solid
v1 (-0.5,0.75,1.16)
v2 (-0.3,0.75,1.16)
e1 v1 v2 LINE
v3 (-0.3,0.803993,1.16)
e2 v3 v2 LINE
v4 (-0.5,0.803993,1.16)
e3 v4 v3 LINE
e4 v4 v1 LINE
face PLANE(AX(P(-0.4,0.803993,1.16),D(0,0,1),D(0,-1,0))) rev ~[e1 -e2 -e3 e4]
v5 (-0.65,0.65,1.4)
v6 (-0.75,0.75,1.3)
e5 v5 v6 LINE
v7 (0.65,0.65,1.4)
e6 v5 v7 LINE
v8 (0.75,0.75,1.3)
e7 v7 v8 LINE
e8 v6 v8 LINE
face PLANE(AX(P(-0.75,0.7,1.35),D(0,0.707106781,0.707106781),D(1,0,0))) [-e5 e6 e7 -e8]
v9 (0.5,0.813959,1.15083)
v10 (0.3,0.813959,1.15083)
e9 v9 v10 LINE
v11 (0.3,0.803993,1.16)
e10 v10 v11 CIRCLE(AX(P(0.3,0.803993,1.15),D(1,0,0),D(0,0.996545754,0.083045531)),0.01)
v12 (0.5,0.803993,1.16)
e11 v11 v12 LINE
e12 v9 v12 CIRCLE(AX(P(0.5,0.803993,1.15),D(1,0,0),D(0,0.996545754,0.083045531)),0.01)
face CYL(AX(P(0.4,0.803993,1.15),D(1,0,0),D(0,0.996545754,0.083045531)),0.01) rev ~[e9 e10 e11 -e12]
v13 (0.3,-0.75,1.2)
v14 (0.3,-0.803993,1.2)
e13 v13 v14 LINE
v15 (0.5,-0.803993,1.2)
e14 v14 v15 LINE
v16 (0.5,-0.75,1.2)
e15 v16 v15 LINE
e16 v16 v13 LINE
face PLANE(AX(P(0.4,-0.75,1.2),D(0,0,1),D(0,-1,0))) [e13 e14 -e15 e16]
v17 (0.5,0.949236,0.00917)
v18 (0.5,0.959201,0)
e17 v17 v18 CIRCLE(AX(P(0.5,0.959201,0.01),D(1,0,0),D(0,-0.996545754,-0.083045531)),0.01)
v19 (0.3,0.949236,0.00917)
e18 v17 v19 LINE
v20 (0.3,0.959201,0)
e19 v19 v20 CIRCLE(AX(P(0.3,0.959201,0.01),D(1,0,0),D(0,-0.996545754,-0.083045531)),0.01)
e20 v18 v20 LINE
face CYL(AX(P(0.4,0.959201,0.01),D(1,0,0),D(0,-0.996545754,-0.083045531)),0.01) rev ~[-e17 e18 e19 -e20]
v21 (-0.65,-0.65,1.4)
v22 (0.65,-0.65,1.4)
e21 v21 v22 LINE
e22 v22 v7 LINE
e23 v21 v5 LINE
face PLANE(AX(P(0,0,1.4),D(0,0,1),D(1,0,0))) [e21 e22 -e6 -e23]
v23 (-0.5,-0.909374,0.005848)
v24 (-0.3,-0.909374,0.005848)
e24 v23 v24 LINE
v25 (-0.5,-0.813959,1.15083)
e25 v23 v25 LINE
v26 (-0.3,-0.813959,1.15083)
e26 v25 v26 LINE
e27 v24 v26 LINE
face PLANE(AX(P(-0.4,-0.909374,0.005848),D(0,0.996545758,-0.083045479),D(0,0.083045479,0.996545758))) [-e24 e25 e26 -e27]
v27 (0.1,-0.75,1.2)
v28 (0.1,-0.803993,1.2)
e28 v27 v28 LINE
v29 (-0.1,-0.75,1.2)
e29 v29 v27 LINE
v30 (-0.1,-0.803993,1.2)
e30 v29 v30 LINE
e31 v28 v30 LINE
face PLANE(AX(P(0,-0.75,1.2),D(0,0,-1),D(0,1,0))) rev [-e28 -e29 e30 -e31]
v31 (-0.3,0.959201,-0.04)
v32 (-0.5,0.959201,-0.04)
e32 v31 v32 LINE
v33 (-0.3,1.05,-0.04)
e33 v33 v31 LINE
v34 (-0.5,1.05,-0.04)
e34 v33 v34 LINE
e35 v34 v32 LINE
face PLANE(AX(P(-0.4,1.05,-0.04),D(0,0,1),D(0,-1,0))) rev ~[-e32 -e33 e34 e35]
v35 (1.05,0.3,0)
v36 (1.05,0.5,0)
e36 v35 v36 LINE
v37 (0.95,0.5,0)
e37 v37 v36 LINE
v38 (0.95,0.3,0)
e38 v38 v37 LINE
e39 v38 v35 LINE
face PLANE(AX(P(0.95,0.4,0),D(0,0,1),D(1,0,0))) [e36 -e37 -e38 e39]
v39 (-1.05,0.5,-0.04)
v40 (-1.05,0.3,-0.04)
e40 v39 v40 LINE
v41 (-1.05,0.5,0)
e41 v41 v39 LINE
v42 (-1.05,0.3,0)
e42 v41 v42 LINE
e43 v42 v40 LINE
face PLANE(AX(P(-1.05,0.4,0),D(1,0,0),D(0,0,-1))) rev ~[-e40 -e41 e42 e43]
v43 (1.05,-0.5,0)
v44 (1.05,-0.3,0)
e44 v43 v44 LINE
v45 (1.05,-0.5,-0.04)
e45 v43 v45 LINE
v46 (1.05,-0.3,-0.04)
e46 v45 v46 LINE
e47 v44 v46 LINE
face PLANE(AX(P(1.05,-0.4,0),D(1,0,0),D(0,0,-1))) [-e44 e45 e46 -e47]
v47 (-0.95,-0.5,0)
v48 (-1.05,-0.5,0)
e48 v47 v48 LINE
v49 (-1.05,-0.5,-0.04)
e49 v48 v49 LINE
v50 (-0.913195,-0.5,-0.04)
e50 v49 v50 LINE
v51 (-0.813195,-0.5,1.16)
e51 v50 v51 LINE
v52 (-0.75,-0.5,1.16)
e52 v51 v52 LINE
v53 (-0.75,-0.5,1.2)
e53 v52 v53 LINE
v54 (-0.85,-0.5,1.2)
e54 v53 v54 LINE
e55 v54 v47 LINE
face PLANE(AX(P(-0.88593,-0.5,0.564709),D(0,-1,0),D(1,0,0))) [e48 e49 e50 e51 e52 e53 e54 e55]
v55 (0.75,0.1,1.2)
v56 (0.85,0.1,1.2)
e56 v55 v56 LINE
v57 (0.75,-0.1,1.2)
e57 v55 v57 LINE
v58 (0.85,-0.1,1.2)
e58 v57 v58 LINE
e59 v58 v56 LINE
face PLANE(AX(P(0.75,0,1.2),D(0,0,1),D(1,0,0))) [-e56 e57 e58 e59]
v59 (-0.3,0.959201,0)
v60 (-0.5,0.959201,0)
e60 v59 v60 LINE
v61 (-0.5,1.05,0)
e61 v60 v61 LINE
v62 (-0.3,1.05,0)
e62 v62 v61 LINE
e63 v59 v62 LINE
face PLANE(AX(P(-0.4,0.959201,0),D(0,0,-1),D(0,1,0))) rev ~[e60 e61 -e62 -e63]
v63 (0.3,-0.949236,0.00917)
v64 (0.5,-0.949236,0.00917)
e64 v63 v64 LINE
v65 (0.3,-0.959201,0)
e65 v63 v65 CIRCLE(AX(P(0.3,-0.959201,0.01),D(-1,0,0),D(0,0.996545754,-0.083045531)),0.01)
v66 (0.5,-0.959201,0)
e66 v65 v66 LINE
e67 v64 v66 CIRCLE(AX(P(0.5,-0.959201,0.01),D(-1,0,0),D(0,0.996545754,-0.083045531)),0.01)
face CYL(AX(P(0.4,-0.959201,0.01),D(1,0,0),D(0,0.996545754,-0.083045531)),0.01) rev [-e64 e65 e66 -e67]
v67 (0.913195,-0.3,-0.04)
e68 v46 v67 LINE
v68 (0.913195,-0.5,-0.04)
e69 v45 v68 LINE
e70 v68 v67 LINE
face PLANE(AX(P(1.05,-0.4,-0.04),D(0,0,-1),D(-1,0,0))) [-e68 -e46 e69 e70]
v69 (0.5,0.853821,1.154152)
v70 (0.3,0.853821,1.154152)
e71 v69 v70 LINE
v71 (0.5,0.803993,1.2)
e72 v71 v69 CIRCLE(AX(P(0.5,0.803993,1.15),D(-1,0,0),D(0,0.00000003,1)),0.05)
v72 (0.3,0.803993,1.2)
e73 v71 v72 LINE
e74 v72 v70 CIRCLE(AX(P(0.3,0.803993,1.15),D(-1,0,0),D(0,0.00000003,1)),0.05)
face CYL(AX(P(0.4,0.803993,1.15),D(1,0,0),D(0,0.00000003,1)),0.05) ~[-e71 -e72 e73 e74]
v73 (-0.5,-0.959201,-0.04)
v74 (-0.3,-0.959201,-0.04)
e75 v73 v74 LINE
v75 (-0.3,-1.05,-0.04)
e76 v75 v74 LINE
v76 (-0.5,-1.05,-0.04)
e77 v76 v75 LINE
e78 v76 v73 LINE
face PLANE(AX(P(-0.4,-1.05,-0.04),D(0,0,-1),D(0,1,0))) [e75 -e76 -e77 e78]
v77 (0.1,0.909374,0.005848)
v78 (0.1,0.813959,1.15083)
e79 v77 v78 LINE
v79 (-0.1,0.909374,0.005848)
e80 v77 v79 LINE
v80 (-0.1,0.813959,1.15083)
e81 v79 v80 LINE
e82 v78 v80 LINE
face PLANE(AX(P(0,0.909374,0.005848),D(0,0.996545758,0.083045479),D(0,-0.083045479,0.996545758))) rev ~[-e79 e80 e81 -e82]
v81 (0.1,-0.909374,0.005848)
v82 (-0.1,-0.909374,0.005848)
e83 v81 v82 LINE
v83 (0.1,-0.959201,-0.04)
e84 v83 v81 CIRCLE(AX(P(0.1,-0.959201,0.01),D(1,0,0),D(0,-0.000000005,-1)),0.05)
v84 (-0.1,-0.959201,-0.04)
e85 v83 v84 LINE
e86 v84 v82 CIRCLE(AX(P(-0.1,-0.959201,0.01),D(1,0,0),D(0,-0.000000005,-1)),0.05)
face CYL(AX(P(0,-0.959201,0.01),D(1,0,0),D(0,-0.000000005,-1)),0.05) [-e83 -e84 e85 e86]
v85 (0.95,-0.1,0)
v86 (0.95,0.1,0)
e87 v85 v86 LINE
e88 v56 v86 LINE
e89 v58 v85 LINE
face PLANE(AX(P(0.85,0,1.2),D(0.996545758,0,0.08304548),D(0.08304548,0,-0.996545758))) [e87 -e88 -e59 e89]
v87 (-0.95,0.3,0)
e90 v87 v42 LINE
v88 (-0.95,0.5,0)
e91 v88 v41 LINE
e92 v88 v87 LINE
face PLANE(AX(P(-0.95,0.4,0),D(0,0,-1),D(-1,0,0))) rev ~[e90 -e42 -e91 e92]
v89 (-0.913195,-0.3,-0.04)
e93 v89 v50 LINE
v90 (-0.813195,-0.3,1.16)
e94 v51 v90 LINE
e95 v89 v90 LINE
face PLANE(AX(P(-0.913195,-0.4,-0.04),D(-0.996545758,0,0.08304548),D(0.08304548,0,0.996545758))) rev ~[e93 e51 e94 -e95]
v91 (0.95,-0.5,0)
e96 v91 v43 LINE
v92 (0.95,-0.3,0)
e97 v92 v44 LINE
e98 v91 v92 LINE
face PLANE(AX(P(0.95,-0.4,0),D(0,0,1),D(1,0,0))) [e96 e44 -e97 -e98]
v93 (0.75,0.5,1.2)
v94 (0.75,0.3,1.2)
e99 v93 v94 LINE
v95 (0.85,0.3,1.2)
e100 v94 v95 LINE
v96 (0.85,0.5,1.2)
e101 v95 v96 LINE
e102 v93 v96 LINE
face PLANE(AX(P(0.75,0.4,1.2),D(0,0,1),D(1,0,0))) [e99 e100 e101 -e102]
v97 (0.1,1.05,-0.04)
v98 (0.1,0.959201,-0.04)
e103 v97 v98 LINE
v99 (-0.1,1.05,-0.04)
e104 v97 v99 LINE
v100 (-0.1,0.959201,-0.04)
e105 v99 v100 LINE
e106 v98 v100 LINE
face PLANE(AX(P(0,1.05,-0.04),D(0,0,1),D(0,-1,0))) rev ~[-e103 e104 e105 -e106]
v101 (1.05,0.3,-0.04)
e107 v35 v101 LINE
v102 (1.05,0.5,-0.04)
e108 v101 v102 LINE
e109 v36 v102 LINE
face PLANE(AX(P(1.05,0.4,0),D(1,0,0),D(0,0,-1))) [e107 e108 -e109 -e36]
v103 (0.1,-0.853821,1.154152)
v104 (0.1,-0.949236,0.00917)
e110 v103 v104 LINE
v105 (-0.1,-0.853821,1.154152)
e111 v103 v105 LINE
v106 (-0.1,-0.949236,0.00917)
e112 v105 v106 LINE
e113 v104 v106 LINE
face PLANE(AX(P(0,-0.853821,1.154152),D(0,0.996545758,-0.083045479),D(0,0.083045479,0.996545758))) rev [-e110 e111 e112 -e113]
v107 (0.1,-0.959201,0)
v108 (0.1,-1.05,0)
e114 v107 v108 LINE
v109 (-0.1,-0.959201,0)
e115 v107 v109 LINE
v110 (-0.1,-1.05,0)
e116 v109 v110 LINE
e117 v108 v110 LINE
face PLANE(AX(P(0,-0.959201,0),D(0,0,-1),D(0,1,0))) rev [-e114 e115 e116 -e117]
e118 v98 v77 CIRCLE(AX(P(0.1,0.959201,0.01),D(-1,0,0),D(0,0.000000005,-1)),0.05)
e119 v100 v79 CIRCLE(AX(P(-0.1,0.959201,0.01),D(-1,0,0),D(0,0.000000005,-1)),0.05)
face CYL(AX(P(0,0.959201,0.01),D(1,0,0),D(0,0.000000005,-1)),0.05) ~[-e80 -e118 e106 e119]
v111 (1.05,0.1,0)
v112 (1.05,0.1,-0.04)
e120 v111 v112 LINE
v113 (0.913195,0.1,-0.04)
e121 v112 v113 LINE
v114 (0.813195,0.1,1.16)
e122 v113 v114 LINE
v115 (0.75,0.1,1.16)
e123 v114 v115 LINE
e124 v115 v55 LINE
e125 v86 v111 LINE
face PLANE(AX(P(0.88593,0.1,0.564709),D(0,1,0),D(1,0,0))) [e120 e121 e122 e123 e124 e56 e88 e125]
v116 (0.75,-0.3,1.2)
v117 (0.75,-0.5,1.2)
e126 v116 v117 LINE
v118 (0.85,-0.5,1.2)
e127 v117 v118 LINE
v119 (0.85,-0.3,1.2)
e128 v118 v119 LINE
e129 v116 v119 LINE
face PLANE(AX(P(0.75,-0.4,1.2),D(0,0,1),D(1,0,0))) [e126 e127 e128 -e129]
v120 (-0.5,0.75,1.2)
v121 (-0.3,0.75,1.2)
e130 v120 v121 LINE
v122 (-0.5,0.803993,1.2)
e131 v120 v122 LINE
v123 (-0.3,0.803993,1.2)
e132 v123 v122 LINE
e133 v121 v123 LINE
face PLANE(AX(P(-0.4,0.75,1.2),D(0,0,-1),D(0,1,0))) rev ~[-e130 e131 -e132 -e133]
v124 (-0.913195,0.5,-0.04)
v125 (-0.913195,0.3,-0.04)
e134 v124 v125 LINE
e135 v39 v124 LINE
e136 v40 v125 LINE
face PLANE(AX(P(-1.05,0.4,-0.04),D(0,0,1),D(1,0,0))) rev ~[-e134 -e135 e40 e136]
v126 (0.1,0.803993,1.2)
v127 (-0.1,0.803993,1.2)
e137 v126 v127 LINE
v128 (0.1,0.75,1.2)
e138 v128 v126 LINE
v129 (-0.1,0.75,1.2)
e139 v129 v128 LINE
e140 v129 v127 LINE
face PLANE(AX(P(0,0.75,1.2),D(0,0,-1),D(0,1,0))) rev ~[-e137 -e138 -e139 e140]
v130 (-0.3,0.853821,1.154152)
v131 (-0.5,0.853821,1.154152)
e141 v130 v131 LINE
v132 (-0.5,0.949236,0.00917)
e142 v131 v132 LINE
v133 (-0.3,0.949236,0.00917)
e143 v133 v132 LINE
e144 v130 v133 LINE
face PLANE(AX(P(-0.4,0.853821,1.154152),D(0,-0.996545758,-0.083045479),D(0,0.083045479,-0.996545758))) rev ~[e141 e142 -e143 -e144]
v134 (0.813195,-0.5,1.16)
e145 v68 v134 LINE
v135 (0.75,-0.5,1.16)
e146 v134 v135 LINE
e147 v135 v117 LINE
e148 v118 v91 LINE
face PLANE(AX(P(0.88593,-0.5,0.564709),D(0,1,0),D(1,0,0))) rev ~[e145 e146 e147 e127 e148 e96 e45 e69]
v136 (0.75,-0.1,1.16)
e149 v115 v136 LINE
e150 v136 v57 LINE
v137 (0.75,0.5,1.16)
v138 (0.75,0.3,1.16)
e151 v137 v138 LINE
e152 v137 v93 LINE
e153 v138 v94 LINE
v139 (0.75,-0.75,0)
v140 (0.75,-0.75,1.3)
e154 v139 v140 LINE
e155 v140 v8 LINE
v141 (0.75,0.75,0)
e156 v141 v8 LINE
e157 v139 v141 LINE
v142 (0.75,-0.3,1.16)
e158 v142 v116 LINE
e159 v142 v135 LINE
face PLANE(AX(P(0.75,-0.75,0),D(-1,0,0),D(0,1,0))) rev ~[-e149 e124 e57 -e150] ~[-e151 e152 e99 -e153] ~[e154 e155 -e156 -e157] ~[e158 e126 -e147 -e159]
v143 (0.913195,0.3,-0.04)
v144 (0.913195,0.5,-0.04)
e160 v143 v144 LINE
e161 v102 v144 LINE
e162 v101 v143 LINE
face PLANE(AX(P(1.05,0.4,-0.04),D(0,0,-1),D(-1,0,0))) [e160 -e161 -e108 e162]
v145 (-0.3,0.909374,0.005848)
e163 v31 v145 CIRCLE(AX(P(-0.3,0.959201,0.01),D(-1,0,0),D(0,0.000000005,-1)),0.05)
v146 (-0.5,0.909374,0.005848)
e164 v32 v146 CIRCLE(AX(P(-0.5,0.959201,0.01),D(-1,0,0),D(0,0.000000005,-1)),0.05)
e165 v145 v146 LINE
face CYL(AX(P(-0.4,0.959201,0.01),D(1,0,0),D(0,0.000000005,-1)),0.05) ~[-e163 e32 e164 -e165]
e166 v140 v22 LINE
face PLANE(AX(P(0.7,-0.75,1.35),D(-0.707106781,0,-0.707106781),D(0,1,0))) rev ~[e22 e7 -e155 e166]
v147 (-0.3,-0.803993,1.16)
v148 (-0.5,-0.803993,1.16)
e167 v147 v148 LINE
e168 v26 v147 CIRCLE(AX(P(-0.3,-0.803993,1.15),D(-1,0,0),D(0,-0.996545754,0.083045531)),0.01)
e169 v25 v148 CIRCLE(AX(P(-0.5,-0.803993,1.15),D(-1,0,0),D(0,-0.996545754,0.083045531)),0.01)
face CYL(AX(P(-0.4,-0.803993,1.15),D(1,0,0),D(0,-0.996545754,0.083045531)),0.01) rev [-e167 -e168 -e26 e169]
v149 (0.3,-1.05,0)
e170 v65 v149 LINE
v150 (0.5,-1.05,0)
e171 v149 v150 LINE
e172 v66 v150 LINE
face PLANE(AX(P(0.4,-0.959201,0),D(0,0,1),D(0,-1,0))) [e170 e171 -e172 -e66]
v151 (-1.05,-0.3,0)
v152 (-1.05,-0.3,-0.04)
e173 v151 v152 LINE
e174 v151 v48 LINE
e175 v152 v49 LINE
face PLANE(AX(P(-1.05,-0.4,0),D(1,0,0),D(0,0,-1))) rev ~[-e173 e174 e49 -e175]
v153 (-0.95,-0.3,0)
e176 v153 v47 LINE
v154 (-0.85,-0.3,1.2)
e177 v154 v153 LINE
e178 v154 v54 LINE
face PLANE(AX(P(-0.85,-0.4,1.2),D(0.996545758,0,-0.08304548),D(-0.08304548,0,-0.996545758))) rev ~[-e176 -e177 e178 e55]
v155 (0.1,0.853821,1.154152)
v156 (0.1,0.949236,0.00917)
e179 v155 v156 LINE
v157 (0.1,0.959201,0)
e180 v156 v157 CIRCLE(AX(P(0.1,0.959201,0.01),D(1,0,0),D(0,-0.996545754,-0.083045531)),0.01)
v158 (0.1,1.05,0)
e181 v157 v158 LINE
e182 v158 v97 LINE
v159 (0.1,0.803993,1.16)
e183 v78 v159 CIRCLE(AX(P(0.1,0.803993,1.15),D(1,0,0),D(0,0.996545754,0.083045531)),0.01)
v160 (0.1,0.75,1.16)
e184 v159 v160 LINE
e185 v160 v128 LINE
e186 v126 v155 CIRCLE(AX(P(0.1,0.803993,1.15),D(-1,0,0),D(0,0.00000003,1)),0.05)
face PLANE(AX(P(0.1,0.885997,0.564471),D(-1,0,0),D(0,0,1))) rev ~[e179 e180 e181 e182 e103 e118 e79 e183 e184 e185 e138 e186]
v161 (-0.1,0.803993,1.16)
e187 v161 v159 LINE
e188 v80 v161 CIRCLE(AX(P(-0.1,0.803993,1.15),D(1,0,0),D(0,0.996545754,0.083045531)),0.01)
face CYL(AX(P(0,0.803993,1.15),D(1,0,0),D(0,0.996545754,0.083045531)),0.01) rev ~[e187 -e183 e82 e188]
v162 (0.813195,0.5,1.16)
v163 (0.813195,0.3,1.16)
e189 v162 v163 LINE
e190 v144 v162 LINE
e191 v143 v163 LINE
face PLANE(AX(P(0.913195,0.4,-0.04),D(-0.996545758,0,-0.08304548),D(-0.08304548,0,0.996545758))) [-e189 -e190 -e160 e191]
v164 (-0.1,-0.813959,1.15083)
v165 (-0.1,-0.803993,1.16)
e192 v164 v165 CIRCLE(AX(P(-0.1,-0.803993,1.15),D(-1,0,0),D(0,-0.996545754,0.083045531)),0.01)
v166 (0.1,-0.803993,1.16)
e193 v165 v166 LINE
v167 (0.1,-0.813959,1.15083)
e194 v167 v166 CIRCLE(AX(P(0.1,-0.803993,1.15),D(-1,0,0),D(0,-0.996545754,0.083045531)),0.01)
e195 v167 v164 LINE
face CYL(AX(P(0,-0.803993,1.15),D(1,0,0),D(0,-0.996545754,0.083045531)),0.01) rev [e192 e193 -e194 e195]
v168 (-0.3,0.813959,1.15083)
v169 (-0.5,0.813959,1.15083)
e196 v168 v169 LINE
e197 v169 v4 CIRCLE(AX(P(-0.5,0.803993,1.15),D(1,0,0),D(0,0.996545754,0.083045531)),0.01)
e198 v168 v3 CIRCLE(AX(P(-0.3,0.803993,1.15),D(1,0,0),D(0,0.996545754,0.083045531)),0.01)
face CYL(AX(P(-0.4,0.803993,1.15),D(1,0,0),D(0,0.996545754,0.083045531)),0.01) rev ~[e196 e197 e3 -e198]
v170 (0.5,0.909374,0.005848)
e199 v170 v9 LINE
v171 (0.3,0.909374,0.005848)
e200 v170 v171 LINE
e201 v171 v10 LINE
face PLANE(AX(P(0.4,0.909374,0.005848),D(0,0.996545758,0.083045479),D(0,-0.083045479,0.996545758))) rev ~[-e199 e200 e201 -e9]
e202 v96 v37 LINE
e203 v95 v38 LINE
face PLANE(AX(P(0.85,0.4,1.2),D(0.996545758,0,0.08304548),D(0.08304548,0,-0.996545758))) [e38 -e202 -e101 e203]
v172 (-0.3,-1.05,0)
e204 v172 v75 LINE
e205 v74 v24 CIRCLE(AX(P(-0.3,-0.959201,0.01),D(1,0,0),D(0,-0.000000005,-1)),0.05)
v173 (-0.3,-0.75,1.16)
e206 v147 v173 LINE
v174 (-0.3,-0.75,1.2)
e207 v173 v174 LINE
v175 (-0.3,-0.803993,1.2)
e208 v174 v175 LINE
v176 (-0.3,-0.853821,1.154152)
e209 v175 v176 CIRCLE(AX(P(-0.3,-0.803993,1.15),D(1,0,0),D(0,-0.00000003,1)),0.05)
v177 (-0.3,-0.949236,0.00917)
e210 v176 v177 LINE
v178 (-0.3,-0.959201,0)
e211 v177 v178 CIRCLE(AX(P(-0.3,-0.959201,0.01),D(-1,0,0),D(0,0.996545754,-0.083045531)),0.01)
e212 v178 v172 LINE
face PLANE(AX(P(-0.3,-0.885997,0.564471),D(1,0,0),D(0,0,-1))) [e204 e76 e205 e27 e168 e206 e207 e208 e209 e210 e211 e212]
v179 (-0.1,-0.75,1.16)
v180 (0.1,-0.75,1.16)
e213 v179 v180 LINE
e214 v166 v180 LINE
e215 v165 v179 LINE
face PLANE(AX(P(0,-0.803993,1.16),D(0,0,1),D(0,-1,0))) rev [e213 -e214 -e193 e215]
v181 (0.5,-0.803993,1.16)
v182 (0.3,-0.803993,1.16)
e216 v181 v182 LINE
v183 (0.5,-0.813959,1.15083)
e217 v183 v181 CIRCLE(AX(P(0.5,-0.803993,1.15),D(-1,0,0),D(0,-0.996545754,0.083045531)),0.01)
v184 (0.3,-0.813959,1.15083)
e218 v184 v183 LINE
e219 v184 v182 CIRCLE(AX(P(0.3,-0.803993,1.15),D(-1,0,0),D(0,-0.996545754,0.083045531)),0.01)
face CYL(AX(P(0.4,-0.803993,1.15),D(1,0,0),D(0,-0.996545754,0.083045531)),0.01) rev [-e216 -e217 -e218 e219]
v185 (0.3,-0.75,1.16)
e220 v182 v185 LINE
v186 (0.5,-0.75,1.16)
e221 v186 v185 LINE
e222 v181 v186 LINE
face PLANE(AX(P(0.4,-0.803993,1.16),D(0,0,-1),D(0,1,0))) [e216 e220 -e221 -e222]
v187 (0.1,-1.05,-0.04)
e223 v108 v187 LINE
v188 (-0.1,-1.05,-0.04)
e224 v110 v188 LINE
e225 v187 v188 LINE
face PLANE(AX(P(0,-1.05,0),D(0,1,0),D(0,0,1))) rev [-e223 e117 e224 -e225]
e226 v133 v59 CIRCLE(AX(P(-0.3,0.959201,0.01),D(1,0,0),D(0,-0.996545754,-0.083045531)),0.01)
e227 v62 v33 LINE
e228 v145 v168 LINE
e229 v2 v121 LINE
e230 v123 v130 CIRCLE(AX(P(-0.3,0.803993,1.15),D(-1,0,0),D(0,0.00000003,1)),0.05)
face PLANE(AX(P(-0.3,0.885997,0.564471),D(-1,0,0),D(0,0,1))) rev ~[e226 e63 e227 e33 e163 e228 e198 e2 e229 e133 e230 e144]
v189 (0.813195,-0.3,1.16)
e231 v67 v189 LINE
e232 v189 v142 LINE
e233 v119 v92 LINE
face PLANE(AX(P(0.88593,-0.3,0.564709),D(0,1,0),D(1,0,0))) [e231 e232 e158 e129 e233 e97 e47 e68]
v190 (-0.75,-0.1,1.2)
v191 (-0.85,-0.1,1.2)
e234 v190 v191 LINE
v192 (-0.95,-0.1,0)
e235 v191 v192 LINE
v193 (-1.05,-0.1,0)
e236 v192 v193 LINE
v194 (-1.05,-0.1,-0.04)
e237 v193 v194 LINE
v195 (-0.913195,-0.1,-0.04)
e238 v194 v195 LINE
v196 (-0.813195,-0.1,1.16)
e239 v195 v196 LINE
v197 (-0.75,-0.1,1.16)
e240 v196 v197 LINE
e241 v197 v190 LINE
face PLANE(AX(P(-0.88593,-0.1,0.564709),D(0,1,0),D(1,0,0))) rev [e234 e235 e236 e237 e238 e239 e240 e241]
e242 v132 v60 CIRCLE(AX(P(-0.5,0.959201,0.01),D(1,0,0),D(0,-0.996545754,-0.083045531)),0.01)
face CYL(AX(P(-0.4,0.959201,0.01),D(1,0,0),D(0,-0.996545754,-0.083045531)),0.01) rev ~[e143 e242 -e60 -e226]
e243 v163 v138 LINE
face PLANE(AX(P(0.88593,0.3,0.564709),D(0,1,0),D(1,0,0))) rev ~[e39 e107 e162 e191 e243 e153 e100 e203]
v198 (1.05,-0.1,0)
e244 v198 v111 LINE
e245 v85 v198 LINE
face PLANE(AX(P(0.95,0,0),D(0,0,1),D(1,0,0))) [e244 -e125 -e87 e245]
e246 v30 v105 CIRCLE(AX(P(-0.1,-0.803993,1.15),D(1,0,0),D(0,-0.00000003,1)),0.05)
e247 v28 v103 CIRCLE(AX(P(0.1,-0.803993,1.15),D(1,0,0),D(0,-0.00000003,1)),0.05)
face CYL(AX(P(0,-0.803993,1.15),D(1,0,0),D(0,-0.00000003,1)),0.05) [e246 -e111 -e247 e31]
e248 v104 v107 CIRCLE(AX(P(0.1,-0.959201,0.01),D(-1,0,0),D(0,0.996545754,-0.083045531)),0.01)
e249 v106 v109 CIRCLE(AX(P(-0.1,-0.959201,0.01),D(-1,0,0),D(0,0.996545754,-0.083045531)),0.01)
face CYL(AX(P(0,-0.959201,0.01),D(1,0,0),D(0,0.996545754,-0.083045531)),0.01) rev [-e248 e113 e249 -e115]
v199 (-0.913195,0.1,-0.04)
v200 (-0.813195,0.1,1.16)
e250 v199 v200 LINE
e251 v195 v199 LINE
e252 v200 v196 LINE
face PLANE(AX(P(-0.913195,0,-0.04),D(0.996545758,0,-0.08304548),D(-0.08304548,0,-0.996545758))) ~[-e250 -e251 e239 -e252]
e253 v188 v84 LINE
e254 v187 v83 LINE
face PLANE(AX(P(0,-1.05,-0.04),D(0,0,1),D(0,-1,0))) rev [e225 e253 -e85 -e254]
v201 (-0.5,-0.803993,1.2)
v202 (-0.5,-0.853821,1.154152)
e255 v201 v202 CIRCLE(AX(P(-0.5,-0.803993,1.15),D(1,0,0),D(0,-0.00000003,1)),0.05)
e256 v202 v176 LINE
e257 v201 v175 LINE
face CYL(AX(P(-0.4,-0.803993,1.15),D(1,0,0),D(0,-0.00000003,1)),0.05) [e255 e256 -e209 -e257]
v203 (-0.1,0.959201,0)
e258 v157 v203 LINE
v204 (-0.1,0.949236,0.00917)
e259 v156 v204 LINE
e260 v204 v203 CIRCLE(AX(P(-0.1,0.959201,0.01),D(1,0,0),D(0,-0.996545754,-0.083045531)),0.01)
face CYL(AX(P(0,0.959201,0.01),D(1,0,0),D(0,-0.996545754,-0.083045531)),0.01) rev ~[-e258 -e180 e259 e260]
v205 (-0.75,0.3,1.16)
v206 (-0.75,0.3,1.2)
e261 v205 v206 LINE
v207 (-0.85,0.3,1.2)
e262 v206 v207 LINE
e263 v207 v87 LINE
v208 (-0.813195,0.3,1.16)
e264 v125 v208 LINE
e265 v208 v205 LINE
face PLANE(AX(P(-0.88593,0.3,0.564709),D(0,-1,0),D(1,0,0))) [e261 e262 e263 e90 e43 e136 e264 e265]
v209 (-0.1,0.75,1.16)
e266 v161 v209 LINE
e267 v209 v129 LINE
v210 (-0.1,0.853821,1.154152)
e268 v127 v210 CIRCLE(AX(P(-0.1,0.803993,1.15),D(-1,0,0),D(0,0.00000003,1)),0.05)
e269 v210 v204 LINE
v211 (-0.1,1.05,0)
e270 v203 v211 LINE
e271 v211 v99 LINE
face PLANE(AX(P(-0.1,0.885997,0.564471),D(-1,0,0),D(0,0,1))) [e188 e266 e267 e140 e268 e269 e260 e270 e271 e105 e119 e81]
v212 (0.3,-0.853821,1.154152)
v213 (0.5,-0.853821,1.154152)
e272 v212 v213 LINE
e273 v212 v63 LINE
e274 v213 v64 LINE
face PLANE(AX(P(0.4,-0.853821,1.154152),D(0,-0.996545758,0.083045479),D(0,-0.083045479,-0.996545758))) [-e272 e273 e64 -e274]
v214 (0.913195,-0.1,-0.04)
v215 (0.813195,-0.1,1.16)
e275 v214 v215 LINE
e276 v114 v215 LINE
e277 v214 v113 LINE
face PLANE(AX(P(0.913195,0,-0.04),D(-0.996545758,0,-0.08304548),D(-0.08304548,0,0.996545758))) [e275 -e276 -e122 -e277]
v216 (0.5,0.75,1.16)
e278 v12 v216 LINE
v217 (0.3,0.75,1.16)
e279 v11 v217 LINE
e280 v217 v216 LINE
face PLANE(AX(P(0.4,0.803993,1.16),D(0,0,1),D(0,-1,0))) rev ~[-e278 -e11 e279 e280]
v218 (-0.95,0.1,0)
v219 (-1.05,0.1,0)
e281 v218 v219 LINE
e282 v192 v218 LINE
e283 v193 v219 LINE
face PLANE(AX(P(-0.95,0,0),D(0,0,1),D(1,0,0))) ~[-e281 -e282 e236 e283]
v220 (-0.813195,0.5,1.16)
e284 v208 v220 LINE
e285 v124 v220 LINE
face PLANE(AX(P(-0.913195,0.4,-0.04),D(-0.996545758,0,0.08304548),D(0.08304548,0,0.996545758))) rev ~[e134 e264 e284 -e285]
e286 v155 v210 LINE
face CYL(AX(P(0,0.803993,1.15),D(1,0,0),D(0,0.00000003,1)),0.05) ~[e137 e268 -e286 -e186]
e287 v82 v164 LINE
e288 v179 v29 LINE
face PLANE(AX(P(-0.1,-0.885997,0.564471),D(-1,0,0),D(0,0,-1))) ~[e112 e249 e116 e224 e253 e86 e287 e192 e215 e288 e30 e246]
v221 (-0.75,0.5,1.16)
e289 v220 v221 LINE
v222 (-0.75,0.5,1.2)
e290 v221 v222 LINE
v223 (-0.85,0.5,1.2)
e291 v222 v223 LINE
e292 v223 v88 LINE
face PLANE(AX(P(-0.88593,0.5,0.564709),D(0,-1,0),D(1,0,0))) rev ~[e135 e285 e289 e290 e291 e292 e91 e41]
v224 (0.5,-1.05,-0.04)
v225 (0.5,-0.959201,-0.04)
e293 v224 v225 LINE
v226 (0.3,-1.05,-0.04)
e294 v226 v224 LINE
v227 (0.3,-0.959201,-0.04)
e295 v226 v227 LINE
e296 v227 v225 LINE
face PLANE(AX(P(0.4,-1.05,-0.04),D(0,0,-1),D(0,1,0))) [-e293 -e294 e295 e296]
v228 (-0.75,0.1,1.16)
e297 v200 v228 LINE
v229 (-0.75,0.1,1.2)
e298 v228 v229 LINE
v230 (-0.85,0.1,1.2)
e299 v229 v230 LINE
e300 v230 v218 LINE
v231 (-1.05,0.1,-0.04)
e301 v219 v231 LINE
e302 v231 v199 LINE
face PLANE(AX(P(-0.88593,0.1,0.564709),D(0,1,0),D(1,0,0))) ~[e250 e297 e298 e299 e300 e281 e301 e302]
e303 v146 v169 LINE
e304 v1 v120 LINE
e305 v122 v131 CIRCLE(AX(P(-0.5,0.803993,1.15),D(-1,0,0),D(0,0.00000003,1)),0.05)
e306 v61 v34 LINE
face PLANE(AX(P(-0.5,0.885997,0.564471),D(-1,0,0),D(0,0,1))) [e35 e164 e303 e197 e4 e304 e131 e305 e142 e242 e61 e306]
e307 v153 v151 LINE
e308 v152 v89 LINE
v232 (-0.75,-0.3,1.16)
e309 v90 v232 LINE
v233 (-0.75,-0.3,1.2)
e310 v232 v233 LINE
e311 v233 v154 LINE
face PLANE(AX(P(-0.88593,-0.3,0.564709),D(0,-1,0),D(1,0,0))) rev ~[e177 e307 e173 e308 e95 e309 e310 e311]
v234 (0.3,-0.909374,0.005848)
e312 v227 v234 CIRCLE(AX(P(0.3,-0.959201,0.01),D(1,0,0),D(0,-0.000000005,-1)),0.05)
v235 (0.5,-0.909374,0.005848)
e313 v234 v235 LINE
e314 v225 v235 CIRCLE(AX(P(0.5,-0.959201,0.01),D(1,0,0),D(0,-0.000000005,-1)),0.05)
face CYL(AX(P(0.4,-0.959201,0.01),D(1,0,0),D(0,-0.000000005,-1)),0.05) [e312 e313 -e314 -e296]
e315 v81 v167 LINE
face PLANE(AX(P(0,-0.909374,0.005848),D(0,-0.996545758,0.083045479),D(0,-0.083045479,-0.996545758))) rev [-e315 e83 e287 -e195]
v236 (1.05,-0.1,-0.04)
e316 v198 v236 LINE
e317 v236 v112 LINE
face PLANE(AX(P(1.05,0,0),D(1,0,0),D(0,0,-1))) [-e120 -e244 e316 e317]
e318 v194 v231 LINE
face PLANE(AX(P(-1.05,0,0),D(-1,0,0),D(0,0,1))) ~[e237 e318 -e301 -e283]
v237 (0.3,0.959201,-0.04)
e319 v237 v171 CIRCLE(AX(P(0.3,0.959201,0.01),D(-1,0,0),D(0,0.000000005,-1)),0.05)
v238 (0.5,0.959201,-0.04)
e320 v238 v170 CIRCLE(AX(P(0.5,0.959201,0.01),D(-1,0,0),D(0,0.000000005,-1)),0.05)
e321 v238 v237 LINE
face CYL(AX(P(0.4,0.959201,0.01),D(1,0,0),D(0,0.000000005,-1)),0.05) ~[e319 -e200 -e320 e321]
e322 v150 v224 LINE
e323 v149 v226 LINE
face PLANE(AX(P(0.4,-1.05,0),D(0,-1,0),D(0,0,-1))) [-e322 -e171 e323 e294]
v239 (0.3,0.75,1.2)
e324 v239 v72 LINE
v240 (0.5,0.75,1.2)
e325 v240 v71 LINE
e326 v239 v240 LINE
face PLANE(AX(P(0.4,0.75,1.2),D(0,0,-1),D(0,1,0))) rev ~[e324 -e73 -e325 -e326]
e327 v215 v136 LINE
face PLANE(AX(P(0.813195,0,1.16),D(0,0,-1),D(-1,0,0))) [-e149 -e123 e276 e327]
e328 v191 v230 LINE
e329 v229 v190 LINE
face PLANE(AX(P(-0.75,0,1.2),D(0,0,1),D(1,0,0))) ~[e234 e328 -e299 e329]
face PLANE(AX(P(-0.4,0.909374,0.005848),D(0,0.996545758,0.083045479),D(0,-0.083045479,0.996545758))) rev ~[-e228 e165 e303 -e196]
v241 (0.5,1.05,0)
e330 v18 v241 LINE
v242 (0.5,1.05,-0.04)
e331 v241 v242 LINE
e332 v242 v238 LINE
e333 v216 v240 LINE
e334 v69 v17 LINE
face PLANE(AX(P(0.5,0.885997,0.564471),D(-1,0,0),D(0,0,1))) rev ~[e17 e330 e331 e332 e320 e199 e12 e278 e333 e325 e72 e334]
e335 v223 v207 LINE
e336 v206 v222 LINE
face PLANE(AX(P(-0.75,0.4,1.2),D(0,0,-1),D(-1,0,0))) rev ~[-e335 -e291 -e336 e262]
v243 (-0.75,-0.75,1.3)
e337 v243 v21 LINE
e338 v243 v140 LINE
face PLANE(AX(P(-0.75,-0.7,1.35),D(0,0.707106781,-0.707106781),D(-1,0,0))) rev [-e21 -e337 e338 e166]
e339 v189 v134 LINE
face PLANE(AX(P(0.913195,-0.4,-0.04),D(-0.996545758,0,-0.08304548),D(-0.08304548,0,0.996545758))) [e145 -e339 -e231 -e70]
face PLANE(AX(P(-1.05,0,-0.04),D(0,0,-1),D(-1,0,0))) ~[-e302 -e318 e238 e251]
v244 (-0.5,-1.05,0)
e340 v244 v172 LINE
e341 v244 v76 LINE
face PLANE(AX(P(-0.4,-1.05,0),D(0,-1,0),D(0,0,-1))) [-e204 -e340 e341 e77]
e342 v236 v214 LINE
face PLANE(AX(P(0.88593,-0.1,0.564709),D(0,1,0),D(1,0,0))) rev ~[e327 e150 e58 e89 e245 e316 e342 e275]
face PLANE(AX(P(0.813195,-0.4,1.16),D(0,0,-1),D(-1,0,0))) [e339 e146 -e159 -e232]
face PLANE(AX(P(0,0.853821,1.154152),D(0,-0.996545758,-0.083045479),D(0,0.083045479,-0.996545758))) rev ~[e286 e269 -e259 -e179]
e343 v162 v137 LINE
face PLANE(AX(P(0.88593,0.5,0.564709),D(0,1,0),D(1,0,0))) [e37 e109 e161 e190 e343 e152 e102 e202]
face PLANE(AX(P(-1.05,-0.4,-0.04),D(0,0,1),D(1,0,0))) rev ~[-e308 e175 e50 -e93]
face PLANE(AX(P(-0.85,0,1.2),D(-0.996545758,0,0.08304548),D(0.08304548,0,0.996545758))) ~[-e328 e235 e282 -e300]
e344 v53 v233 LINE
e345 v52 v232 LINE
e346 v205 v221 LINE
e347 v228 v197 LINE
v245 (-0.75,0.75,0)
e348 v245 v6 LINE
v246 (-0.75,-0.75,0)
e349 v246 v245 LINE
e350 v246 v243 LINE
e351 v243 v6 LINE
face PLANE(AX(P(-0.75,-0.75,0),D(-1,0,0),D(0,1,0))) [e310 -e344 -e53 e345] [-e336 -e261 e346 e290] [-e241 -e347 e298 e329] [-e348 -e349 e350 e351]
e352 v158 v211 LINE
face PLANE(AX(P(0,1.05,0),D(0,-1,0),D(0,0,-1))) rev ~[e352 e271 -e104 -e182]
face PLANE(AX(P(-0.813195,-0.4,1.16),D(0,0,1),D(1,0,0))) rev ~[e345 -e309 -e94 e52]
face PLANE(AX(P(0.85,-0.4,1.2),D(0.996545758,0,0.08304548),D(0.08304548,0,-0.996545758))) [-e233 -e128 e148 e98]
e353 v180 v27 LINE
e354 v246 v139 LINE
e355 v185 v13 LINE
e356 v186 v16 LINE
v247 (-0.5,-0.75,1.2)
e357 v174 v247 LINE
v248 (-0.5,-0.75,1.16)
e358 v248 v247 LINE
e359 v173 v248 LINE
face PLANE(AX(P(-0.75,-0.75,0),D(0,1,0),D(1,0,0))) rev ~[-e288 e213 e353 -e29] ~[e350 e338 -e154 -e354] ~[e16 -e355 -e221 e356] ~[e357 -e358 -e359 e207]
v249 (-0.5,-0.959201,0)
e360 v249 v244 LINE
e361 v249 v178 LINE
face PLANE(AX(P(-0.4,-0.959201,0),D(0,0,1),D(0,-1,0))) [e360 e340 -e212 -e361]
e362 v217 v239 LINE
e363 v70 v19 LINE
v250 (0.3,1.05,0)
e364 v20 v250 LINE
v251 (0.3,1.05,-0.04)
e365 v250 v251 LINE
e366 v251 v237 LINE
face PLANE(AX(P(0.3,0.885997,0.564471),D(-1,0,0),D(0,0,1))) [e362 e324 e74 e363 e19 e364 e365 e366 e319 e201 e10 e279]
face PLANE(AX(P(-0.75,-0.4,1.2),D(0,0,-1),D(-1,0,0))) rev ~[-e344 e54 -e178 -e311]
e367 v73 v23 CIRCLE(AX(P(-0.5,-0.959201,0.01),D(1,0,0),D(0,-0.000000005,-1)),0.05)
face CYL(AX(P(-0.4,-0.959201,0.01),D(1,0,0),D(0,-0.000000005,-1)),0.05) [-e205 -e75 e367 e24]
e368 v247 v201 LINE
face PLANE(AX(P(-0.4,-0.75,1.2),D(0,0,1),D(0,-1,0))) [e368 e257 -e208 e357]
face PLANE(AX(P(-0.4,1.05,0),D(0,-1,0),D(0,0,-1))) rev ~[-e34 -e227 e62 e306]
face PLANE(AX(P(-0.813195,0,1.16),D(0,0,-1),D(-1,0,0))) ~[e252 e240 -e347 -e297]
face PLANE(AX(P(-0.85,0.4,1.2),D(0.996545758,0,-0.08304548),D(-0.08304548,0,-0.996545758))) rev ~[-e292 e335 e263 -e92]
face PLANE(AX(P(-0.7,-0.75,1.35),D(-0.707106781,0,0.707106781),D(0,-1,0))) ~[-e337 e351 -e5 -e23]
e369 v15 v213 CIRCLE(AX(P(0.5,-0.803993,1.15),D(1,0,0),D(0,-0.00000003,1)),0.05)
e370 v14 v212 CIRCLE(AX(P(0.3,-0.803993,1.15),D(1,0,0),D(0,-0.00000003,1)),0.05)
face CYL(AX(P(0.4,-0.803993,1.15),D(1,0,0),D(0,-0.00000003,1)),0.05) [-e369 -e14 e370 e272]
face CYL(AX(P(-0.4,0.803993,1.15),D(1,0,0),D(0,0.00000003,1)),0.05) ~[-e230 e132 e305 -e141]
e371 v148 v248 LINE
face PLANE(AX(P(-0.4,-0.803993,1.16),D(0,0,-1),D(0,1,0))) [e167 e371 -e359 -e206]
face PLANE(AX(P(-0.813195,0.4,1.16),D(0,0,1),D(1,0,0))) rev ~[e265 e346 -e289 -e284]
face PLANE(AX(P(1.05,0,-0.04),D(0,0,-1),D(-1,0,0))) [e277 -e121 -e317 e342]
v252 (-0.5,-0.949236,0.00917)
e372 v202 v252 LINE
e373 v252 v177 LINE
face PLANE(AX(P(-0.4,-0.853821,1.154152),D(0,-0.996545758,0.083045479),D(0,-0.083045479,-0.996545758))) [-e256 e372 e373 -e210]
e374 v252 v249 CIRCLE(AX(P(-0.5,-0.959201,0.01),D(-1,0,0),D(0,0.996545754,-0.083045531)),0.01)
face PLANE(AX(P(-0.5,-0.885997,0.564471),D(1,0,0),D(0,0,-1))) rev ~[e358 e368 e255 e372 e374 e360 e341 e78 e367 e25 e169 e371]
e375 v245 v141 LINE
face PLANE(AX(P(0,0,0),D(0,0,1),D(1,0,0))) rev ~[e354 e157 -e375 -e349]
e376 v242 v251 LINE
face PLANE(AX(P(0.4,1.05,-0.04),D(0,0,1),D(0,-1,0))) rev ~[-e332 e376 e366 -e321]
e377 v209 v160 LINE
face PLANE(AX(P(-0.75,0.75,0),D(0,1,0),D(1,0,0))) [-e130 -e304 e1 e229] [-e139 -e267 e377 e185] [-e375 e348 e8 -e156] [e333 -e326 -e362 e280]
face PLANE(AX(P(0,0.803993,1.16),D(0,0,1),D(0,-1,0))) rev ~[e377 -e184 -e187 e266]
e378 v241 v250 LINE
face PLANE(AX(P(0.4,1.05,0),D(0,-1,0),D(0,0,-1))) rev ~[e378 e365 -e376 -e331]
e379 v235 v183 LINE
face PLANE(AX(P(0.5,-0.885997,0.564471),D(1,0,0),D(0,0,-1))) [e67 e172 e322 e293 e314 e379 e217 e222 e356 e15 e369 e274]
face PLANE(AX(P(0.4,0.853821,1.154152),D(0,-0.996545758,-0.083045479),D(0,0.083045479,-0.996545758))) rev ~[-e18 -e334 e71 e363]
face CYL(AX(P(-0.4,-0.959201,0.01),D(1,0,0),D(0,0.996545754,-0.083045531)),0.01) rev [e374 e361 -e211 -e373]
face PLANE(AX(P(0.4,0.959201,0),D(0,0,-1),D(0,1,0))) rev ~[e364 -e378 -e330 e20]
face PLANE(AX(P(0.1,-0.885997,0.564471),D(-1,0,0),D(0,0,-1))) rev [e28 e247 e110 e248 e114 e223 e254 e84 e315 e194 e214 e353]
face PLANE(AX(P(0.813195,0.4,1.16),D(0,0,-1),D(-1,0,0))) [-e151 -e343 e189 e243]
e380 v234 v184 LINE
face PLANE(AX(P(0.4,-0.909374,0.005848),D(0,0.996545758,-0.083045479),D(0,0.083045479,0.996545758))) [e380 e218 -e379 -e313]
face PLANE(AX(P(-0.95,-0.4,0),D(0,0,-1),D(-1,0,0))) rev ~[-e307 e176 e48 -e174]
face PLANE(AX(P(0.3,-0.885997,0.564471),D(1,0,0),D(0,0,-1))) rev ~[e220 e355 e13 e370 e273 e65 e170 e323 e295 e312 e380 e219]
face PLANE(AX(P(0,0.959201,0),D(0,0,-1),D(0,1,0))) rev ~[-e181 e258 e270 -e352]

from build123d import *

# Parameters (mm, degrees)
COMPONENT_OUTLINE_W  = 1.5
COMPONENT_OUTLINE_H  = 1.5
EXTRUDE1_DEPTH       = 1.4
EXTRUDE_THIN1_DEPTH  = 0.1
LPATTERN1_COUNT      = 2
LPATTERN1_PITCH      = 0.4
LPATTERN1_COL_COUNT  = 2
LPATTERN1_COL_PITCH  = 0.4
MIRROR1_COPY_1_DEPTH = 0.1
MIRROR1_COPY_2_DEPTH = 0.1
EXTRUDE_THIN2_DEPTH  = 0.1
LPATTERN2_COUNT      = 2
LPATTERN2_PITCH      = 0.4
LPATTERN2_COL_COUNT  = 2
LPATTERN2_COL_PITCH  = 0.4
MIRROR2_COPY_1_DEPTH = 0.1
MIRROR2_COPY_2_DEPTH = 0.1
CHAMFER1_SIZE        = 0.1


with BuildPart() as part:
    # COMPONENT_OUTLINE → Extrude1 (new body)
    with BuildSketch(Plane.XY):
        Rectangle(COMPONENT_OUTLINE_W, COMPONENT_OUTLINE_H)
    extrude(amount=EXTRUDE1_DEPTH)

    # Sketch1 → Extrude-Thin1 (add, symmetric)
    with BuildSketch(Plane(origin=(0, 0, 0), x_dir=(0, 0, -1), z_dir=(1, 0, 0))):
        with BuildLine():
            Line((-1.2, 0.75), (-1.2, 0.803993356))
            ThreePointArc((-1.2, 0.803993356), (-1.186794114, 0.83784883), (-1.154152274, 0.853820644))
            Line((-1.154152274, 0.853820644), (-0.009169545, 0.949235871))
            ThreePointArc((-0.009169545, 0.949235871), (-0.002641177, 0.952430234), (0, 0.959201329))
            Line((0, 0.959201329), (0, 1.05))
            Line((0, 1.05), (0.04, 1.05))
            Line((0.04, 1.05), (0.04, 0.959201329))
            ThreePointArc((0.04, 0.959201329), (0.026794114, 0.925345854), (-0.005847726, 0.909374041))
            Line((-0.005847726, 0.909374041), (-1.150830455, 0.813958814))
            ThreePointArc((-1.150830455, 0.813958814), (-1.157358823, 0.810764451), (-1.16, 0.803993356))
            Line((-1.16, 0.803993356), (-1.16, 0.75))
            Line((-1.16, 0.75), (-1.2, 0.75))
        make_face()
    extrude_thin1 = extrude(amount=EXTRUDE_THIN1_DEPTH, both=True)

    # LPattern1: Extrude-Thin1 ×2
    with Locations(*[(-i * LPATTERN1_PITCH, 0, 0) for i in range(1, LPATTERN1_COUNT)]):
        add(extrude_thin1)

    # LPattern1 col: Extrude-Thin1 ×2
    with Locations(*[(i * LPATTERN1_COL_PITCH, 0, 0) for i in range(1, LPATTERN1_COL_COUNT)]):
        add(extrude_thin1)

    # Mirror1: Extrude-Thin1 across plane
    add(extrude_thin1.mirror(Plane.ZX))

    # Mirror1 copy 1 sketch → Mirror1 copy 1 (add, symmetric)
    with BuildSketch(Plane(origin=(-0.4, 0, 0), x_dir=(0, 0, -1), z_dir=(1, 0, 0))):
        with BuildLine():
            Line((-1.2, -0.75), (-1.2, -0.803993356))
            ThreePointArc((-1.2, -0.803993356), (-1.186794114, -0.83784883), (-1.154152274, -0.853820644))
            Line((-1.154152274, -0.853820644), (-0.009169545, -0.949235871))
            ThreePointArc((-0.009169545, -0.949235871), (-0.002641177, -0.952430234), (0, -0.959201329))
            Line((0, -0.959201329), (0, -1.05))
            Line((0, -1.05), (0.04, -1.05))
            Line((0.04, -1.05), (0.04, -0.959201329))
            ThreePointArc((0.04, -0.959201329), (0.026794114, -0.925345854), (-0.005847726, -0.909374041))
            Line((-0.005847726, -0.909374041), (-1.150830455, -0.813958814))
            ThreePointArc((-1.150830455, -0.813958814), (-1.157358823, -0.810764451), (-1.16, -0.803993356))
            Line((-1.16, -0.803993356), (-1.16, -0.75))
            Line((-1.16, -0.75), (-1.2, -0.75))
        make_face()
    extrude(amount=MIRROR1_COPY_1_DEPTH, both=True)

    # Mirror1 copy 2 sketch → Mirror1 copy 2 (add, symmetric)
    with BuildSketch(Plane(origin=(0.4, 0, 0), x_dir=(0, 0, -1), z_dir=(1, 0, 0))):
        with BuildLine():
            Line((-1.2, -0.75), (-1.2, -0.803993356))
            ThreePointArc((-1.2, -0.803993356), (-1.186794114, -0.83784883), (-1.154152274, -0.853820644))
            Line((-1.154152274, -0.853820644), (-0.009169545, -0.949235871))
            ThreePointArc((-0.009169545, -0.949235871), (-0.002641177, -0.952430234), (0, -0.959201329))
            Line((0, -0.959201329), (0, -1.05))
            Line((0, -1.05), (0.04, -1.05))
            Line((0.04, -1.05), (0.04, -0.959201329))
            ThreePointArc((0.04, -0.959201329), (0.026794114, -0.925345854), (-0.005847726, -0.909374041))
            Line((-0.005847726, -0.909374041), (-1.150830455, -0.813958814))
            ThreePointArc((-1.150830455, -0.813958814), (-1.157358823, -0.810764451), (-1.16, -0.803993356))
            Line((-1.16, -0.803993356), (-1.16, -0.75))
            Line((-1.16, -0.75), (-1.2, -0.75))
        make_face()
    extrude(amount=MIRROR1_COPY_2_DEPTH, both=True)

    # Sketch2 → Extrude-Thin2 (add, symmetric)
    with BuildSketch(Plane(origin=(0, 0, 0), x_dir=(1, 0, 0), z_dir=(0, 1, 0))):
        Polygon((0.75, -1.2), (0.85, -1.2), (0.95, 0), (1.05, 0), (1.05, 0.04), (0.913194685, 0.04), (0.813194685, -1.16), (0.75, -1.16), align=None)
    extrude_thin2 = extrude(amount=EXTRUDE_THIN2_DEPTH, both=True)

    # LPattern2: Extrude-Thin2 ×2
    with Locations(*[(0, i * LPATTERN2_PITCH, 0) for i in range(1, LPATTERN2_COUNT)]):
        add(extrude_thin2)

    # LPattern2 col: Extrude-Thin2 ×2
    with Locations(*[(0, -i * LPATTERN2_COL_PITCH, 0) for i in range(1, LPATTERN2_COL_COUNT)]):
        add(extrude_thin2)

    # Mirror2: Extrude-Thin2 across plane
    add(extrude_thin2.mirror(Plane(origin=(0, 0, 0), x_dir=(0, 0, 1), z_dir=(1, 0, 0))))

    # Mirror2 copy 1 sketch → Mirror2 copy 1 (add, symmetric)
    with BuildSketch(Plane(origin=(0, 0.4, 0), x_dir=(-1, 0, 0), z_dir=(0, 1, 0))):
        Polygon((0.75, 1.2), (0.85, 1.2), (0.95, 0), (1.05, 0), (1.05, -0.04), (0.913194685, -0.04), (0.813194685, 1.16), (0.75, 1.16), align=None)
    extrude(amount=MIRROR2_COPY_1_DEPTH, both=True)

    # Mirror2 copy 2 sketch → Mirror2 copy 2 (add, symmetric)
    with BuildSketch(Plane(origin=(0, -0.4, 0), x_dir=(-1, 0, 0), z_dir=(0, 1, 0))):
        Polygon((0.75, 1.2), (0.85, 1.2), (0.95, 0), (1.05, 0), (1.05, -0.04), (0.913194685, -0.04), (0.813194685, 1.16), (0.75, 1.16), align=None)
    extrude(amount=MIRROR2_COPY_2_DEPTH, both=True)

    # Chamfer1
    chamfer1_edges = [part.edges().sort_by_distance(p)[0] for p in [
        (0, -0.75, 1.4),
        (0.75, 0, 1.4),
        (0, 0.75, 1.4),
        (-0.75, 0, 1.4),
    ]]
    chamfer(chamfer1_edges, length=CHAMFER1_SIZE)


solid = part.part
